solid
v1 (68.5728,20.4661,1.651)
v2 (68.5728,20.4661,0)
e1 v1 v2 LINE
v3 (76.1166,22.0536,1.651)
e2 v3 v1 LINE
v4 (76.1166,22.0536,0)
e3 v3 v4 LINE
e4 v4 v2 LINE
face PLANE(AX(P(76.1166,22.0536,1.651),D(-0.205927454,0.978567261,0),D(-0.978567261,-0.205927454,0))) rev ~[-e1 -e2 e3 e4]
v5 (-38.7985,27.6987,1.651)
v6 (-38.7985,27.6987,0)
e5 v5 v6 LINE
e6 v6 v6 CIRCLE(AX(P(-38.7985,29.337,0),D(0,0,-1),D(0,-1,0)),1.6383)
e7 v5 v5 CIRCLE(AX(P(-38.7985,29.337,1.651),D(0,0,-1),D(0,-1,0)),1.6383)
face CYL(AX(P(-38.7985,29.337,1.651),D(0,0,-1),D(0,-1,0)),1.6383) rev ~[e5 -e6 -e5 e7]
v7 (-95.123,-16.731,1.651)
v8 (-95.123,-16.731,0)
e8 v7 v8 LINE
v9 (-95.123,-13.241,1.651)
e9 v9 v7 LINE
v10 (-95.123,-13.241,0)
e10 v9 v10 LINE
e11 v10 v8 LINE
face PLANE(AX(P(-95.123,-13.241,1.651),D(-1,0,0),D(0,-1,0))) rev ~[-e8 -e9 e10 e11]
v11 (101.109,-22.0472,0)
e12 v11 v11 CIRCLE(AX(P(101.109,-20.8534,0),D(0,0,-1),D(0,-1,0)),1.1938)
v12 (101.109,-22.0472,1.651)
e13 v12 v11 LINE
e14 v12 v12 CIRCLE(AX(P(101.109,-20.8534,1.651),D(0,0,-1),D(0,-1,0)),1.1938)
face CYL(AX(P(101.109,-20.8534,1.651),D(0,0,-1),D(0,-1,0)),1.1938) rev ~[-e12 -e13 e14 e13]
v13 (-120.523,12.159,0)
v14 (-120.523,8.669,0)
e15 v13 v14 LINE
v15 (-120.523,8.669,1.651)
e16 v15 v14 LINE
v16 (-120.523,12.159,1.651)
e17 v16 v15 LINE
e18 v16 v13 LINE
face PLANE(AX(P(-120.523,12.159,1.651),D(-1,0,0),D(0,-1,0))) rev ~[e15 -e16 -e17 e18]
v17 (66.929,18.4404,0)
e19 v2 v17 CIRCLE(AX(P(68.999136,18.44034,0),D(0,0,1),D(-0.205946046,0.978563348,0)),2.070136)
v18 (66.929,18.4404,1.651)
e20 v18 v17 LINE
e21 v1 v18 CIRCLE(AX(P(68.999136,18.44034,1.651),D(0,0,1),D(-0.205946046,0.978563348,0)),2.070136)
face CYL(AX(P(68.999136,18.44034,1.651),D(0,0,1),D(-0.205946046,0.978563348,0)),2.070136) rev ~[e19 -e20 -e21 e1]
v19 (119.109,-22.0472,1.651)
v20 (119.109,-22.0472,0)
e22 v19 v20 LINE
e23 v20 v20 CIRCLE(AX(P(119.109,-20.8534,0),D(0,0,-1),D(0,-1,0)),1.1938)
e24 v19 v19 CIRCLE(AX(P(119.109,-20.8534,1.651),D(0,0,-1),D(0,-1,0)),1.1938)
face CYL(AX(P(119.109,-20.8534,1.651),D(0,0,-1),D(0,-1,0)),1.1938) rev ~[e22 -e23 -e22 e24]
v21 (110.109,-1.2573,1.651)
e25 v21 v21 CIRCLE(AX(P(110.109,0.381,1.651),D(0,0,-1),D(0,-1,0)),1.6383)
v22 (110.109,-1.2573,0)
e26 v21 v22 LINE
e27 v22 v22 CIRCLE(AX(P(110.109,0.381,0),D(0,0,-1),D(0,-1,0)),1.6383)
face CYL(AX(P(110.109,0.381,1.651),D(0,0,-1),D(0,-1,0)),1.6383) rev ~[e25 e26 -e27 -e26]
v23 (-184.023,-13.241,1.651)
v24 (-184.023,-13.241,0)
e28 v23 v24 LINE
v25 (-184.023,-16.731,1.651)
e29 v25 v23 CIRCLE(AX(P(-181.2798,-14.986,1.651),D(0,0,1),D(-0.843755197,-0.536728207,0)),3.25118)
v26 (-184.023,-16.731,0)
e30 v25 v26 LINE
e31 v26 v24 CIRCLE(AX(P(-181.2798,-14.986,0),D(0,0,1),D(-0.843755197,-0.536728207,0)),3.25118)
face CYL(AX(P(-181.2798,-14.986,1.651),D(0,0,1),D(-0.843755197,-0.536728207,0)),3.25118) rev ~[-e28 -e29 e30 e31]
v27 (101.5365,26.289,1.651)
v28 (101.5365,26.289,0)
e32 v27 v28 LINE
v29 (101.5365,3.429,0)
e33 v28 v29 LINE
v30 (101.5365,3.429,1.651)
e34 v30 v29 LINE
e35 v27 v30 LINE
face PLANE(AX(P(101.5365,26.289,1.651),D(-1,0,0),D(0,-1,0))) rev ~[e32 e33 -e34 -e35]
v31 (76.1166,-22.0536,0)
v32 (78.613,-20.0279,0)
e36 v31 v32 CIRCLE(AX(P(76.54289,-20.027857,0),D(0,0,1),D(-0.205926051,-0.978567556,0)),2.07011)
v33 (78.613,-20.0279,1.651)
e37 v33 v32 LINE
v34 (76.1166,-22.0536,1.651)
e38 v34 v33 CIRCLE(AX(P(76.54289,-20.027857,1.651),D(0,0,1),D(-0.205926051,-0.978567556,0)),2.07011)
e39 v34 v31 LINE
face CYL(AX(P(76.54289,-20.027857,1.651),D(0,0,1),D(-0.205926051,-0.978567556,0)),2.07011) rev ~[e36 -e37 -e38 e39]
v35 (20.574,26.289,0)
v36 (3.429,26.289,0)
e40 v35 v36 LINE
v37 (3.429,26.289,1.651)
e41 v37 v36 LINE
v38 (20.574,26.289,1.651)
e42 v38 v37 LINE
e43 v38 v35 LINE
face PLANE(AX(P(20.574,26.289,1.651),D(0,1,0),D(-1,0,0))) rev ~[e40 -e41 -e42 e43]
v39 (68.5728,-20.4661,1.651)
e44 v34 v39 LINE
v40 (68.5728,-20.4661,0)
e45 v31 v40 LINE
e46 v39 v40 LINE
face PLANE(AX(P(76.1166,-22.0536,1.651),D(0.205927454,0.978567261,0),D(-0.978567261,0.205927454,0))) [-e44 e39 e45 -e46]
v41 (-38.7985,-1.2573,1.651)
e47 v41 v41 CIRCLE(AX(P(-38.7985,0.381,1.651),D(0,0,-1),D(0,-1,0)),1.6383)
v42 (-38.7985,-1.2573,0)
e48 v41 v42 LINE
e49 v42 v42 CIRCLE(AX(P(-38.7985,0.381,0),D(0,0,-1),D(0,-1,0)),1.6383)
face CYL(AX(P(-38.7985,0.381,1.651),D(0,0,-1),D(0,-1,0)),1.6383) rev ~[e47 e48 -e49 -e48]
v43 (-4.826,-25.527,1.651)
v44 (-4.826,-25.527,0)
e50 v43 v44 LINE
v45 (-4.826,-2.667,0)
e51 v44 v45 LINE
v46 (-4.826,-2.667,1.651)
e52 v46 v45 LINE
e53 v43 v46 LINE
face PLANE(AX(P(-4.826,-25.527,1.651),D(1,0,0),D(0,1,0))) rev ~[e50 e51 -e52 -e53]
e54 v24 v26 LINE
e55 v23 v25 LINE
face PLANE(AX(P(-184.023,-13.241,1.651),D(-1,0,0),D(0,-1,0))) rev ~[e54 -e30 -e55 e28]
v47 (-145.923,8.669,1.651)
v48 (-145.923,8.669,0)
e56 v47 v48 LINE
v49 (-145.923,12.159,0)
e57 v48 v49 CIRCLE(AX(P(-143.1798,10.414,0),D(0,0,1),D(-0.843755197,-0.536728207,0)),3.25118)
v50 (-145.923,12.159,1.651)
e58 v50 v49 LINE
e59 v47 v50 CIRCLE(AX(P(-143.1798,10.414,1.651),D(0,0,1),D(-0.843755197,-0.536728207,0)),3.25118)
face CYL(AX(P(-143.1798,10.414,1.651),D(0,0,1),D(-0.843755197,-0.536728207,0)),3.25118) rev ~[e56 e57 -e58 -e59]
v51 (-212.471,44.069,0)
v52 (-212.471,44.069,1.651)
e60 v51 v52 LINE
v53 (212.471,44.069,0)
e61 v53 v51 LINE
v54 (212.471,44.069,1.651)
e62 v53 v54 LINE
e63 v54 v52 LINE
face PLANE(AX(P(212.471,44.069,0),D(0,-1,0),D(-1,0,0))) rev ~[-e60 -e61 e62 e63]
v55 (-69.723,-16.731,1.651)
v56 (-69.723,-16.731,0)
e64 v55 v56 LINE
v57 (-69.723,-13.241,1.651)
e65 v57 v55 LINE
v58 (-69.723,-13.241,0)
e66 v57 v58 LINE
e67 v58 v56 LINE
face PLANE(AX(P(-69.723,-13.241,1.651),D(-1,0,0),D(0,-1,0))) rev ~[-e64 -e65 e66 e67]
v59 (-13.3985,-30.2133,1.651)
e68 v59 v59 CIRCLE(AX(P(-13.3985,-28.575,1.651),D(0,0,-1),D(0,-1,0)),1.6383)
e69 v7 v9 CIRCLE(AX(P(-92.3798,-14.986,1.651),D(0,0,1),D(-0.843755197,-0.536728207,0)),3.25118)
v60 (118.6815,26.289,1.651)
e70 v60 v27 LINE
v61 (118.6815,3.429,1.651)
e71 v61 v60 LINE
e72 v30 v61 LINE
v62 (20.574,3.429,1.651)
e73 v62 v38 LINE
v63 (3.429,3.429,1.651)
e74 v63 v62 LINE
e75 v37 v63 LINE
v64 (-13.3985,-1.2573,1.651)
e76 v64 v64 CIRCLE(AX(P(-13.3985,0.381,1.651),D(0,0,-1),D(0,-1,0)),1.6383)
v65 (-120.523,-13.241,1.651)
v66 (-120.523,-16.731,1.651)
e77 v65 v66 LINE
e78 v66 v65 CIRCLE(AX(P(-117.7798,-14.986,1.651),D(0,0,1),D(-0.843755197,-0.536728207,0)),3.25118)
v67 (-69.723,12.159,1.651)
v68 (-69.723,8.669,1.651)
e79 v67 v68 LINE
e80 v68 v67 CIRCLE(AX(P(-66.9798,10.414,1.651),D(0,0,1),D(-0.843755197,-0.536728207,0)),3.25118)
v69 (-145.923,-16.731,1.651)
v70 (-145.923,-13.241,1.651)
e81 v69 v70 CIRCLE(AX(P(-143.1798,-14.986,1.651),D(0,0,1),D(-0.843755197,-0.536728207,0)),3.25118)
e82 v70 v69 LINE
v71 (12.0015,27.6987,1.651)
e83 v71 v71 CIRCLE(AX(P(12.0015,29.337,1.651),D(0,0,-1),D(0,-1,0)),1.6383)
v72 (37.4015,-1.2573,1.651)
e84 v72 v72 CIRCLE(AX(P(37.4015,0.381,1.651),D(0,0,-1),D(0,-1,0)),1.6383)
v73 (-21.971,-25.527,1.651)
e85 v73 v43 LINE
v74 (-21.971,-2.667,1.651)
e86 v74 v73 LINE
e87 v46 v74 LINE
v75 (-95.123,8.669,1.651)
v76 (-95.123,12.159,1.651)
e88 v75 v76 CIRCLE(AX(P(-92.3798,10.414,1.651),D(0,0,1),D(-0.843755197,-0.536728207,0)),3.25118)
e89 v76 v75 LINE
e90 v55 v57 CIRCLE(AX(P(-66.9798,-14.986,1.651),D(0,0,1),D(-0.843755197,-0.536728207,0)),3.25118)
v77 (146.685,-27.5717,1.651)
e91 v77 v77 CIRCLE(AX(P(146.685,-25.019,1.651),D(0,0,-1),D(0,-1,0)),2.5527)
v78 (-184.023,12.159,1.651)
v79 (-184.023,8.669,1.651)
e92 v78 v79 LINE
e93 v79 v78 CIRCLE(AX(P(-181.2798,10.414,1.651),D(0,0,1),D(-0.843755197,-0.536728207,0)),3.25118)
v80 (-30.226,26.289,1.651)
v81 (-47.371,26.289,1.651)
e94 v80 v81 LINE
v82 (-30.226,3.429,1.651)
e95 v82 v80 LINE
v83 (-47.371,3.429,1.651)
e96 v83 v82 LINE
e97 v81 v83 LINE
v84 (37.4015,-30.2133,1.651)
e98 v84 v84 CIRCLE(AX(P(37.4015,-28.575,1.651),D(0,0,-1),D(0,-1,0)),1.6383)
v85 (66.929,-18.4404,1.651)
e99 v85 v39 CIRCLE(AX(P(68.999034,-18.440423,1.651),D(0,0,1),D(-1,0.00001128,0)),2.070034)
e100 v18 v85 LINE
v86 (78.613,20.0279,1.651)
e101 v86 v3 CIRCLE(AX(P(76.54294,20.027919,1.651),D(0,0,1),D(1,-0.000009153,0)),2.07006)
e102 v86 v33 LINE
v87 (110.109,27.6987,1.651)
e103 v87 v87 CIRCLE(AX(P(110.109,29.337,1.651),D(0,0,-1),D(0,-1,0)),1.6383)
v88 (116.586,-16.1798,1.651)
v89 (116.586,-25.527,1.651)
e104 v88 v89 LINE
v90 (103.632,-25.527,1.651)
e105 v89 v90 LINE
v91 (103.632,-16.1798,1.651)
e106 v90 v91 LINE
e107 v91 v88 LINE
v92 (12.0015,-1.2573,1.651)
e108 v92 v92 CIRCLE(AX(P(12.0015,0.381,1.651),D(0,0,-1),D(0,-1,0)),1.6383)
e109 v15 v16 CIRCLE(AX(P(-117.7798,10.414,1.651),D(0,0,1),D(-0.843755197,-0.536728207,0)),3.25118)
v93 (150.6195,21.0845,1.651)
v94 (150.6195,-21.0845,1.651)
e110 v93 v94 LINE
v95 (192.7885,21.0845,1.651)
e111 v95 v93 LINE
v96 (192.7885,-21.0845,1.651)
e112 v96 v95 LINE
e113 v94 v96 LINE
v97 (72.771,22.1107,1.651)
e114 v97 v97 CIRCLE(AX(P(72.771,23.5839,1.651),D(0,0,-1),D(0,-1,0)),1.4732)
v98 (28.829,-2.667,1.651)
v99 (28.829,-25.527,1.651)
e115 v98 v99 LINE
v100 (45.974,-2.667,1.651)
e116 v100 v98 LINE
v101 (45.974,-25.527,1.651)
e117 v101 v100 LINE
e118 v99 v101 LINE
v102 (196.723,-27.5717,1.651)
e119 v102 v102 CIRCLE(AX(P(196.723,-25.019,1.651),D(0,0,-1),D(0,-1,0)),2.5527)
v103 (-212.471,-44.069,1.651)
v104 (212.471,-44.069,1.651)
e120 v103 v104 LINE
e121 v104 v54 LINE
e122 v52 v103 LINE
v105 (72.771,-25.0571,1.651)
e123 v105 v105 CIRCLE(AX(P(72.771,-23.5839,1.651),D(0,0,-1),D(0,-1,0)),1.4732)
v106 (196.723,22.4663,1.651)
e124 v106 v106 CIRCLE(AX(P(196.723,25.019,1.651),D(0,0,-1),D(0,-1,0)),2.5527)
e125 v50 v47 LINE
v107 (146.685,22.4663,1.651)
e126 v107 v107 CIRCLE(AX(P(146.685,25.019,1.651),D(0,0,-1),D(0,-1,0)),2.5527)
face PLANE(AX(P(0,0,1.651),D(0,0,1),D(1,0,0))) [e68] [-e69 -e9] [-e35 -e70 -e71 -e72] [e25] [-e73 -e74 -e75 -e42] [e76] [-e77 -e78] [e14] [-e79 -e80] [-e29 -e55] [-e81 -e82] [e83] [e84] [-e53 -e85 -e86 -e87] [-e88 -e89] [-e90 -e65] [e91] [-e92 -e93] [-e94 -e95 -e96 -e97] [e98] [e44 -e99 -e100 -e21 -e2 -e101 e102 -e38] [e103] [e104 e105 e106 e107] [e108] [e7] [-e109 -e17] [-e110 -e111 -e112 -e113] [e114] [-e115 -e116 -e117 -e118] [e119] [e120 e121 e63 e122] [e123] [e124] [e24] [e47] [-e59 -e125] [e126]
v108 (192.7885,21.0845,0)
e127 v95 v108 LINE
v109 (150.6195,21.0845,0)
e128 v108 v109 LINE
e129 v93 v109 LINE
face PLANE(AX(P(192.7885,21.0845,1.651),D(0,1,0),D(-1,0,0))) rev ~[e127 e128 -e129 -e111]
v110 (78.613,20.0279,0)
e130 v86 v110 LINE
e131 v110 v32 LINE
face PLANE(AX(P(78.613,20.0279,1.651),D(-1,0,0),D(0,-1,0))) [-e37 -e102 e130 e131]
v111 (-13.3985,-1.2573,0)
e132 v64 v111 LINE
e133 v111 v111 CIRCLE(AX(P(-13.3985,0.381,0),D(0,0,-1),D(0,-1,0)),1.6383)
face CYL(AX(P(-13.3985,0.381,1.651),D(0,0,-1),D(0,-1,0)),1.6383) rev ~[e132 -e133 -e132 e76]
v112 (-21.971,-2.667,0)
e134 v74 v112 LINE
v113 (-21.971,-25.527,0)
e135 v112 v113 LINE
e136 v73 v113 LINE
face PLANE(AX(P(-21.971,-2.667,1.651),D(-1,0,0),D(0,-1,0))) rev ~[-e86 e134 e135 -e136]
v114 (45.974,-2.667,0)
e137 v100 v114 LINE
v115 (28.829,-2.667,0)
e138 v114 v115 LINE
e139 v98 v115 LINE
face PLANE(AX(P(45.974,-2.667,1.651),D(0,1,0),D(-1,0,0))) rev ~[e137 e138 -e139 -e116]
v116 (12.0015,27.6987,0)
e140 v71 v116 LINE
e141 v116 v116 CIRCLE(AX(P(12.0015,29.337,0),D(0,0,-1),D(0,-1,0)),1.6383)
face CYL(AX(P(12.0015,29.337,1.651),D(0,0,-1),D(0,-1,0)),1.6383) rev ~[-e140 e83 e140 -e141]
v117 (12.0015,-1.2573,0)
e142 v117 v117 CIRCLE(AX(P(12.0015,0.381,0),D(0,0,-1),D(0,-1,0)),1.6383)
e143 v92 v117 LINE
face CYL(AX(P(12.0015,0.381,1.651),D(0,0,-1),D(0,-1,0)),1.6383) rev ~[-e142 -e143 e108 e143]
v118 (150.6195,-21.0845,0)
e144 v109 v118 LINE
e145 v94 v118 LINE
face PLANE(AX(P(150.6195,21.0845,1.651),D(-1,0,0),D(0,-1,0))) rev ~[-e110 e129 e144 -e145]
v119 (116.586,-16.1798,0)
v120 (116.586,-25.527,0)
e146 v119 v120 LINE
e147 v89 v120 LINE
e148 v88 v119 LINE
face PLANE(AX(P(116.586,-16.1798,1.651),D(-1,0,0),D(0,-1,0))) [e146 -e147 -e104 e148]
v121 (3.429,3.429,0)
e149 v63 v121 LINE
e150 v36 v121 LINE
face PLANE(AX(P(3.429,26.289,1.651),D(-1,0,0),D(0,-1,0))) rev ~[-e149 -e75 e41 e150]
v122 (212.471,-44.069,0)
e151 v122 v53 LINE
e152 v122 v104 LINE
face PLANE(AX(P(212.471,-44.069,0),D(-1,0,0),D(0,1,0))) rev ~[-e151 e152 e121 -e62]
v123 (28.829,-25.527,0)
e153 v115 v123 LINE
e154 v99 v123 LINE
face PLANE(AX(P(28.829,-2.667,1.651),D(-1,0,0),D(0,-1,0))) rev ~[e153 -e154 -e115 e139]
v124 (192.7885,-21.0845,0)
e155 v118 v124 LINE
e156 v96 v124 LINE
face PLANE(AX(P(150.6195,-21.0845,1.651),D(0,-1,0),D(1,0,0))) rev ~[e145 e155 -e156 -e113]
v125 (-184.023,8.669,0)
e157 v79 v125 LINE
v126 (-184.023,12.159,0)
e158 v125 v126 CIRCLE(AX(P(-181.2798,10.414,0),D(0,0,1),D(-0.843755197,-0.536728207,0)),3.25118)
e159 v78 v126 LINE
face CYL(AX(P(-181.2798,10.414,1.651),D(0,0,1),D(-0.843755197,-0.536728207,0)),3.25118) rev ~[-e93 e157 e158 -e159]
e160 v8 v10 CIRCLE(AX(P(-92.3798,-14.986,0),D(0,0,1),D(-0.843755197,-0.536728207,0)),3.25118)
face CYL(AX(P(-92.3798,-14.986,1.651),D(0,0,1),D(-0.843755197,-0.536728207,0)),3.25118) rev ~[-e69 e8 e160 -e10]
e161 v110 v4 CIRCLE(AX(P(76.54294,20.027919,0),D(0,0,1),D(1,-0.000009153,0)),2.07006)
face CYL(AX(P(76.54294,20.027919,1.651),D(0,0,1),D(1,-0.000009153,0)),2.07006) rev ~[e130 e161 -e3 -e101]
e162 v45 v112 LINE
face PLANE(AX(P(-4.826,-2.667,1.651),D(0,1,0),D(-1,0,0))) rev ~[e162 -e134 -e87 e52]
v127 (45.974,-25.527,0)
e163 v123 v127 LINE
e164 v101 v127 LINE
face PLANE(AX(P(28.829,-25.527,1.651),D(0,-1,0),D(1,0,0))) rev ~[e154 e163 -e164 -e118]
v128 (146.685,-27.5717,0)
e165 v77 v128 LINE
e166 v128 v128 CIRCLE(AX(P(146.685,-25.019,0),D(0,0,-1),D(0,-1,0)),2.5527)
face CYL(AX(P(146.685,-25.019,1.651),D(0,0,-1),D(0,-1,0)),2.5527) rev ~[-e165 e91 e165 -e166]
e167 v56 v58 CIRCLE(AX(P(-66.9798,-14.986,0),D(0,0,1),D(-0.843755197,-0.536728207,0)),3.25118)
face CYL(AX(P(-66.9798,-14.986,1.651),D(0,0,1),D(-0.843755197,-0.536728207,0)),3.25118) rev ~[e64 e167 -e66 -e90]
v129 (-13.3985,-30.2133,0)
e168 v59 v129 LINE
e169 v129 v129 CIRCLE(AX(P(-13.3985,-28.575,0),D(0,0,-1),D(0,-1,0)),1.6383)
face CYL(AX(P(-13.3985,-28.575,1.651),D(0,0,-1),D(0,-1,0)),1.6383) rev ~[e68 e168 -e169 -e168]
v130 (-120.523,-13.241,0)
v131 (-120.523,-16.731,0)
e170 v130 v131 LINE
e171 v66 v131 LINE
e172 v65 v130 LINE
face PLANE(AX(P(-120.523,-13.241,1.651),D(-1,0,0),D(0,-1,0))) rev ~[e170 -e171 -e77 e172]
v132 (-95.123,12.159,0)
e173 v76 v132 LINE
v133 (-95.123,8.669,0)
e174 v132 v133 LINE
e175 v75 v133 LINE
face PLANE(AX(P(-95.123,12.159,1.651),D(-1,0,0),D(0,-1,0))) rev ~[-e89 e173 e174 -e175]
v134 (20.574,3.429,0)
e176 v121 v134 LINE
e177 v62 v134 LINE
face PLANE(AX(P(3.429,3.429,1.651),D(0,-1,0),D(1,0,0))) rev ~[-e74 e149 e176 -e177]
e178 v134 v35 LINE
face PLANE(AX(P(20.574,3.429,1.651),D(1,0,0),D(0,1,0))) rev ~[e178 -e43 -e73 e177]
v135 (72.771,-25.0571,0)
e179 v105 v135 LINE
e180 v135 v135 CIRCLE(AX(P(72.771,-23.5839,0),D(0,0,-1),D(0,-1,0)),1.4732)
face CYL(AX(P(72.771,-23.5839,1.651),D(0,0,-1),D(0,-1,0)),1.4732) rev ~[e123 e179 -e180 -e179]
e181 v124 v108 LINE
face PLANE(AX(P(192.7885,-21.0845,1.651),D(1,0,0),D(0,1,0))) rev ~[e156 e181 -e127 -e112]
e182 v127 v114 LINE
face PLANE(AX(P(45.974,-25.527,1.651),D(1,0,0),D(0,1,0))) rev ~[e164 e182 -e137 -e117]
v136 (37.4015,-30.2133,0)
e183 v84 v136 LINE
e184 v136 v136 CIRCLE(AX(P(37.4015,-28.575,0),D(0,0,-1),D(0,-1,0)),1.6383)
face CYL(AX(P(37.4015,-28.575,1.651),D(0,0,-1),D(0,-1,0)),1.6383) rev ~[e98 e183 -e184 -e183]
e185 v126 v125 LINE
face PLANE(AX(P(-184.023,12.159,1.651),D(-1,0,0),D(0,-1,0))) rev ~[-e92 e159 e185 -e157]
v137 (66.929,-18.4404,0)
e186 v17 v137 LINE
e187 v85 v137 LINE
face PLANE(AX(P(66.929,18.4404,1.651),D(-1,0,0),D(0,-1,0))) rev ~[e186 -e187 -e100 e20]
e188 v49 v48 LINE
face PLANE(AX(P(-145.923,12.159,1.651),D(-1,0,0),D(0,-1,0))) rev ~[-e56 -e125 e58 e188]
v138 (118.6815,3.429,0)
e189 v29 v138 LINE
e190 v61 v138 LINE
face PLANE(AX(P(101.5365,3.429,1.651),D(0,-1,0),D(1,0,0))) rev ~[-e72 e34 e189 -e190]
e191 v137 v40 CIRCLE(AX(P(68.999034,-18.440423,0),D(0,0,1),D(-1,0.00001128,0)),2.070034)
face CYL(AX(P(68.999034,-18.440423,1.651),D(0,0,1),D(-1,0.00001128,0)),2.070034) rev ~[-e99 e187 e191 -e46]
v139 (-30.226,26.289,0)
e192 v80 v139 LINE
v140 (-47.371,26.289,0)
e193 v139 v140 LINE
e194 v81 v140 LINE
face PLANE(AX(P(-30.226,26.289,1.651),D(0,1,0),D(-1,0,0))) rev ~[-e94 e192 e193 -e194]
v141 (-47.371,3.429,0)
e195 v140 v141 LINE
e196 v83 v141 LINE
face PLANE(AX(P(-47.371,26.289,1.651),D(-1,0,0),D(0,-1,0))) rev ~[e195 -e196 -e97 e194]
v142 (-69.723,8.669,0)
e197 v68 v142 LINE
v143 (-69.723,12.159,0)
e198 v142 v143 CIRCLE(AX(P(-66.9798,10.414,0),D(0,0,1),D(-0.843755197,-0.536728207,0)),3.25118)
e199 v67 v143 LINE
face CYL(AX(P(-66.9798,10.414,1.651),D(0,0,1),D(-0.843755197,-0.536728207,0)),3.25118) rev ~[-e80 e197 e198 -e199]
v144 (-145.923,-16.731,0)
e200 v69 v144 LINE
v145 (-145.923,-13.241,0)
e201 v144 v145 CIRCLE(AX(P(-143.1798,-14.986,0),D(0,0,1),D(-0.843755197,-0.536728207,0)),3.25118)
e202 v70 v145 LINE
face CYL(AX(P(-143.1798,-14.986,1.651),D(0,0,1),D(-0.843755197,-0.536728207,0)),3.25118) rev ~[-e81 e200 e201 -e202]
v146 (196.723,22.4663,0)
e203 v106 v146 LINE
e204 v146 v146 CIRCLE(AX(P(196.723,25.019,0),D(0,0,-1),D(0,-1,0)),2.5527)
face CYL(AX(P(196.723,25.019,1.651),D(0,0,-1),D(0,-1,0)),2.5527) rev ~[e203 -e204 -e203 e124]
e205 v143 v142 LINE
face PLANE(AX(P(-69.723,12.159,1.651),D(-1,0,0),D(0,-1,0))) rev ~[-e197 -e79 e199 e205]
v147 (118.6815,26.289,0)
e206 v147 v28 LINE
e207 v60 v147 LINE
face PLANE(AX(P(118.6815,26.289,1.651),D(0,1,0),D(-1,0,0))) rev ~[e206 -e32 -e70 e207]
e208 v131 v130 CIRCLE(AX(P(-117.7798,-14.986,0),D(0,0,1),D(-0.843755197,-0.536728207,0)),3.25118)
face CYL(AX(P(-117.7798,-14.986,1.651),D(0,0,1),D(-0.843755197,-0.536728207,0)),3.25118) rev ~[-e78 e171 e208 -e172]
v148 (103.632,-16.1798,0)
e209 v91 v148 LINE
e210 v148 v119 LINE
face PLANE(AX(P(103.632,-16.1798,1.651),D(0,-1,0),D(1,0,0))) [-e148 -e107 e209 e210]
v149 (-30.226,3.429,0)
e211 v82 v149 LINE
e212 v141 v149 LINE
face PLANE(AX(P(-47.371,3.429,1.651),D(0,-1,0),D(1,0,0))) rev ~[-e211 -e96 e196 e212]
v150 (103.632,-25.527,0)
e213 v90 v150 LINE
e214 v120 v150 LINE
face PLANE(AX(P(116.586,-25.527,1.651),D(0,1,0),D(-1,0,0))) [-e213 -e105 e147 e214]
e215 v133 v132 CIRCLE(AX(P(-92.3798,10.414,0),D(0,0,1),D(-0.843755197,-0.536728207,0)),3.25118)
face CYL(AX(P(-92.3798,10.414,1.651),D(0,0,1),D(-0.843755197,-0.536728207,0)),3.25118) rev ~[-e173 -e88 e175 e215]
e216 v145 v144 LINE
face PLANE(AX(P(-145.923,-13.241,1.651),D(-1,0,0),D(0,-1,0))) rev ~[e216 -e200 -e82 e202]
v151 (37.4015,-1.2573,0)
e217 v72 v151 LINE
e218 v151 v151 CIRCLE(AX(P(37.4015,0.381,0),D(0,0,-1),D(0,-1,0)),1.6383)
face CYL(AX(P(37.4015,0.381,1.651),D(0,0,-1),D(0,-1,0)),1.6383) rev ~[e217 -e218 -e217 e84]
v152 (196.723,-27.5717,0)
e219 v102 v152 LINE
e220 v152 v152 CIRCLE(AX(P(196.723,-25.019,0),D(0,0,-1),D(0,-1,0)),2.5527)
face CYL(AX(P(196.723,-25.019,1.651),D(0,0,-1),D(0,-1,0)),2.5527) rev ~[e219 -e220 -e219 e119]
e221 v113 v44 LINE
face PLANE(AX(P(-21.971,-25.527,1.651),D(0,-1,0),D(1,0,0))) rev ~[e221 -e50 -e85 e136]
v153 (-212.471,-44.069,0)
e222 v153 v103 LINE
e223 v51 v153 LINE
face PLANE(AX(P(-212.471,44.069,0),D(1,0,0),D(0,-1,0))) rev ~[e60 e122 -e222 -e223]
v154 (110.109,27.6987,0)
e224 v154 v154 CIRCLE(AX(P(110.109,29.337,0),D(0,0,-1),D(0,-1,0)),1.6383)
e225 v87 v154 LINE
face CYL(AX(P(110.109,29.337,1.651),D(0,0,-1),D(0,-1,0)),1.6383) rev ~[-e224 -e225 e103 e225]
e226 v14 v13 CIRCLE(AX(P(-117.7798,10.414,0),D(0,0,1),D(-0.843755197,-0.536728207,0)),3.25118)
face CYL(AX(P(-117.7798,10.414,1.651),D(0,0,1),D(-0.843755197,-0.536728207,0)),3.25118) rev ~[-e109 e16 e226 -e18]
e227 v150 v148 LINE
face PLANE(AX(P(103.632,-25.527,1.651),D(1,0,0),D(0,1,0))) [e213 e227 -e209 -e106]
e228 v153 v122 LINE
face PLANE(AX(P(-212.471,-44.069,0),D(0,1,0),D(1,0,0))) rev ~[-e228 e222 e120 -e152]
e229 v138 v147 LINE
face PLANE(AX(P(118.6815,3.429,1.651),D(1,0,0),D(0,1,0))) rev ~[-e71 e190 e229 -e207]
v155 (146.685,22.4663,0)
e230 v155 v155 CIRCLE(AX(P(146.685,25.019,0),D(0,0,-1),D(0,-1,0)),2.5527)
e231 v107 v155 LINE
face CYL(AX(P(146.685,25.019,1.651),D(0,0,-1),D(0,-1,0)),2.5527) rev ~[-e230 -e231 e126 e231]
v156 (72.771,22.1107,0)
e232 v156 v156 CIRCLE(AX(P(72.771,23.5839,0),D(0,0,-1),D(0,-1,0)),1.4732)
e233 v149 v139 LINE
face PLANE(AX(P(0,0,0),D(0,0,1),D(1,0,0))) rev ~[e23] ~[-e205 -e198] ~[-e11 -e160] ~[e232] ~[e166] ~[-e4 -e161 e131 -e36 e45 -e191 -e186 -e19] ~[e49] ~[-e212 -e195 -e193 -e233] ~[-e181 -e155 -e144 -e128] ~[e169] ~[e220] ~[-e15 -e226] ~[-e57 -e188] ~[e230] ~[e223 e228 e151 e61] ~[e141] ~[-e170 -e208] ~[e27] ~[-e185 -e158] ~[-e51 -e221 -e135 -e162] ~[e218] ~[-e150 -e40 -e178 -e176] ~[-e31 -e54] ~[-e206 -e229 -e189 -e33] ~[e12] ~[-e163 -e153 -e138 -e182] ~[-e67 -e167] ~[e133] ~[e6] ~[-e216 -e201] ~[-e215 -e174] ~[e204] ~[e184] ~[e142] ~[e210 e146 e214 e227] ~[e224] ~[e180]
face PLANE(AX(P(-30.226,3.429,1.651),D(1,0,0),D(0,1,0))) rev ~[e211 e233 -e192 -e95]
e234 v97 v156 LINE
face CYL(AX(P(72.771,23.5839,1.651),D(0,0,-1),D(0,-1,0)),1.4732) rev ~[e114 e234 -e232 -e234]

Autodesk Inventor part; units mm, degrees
ref_plane "YZ Plane" through (0, 0, 0) normal (1, 0, 0) x (0, 1, 0)
ref_plane "XZ Plane" through (0, 0, 0) normal (0, 1, 0) x (-1, 0, 0)
ref_plane "XY Plane" through (0, 0, 0) normal (0, 0, 1) x (1, 0, 0)
sketch "Sketch1" plane through (0, 0, 0) normal (0, 0, 1) x (1, 0, 0)
  line L0 (-212.471, -44.069) -> (212.471, -44.069)
  line L1 (212.471, -44.069) -> (212.471, 44.069)
  line L2 (212.471, 44.069) -> (-212.471, 44.069)
  line L3 (-212.471, 44.069) -> (-212.471, -44.069)
  line L4 (-212.471, -44.069) -> (212.471, 44.069) construction
  line L5 (212.471, -44.069) -> (-212.471, 44.069) construction
  point P0 (0, 0)
  dimension "d0" = 424.942
  dimension "d1" = 88.138
extrude "Extrusion1" add sketch "Sketch1" along normal blind 1.651
sketch "SMA" plane through (0, 0, 1.651) normal (0, 0, 1) x (1, 0, 0)
  line L0 (-209.423, -35.814) -> (209.423, -35.814) construction
  line L1 (209.423, -35.814) -> (209.423, 35.814) construction
  line L2 (209.423, 35.814) -> (-209.423, 35.814) construction
  line L3 (-209.423, 35.814) -> (-209.423, -35.814) construction
  line L4 (212.471, 44.069) -> (-212.471, 44.069) construction
  line L5 (212.471, -44.069) -> (212.471, 44.069) construction
  line L6 (-212.471, 44.069) -> (-212.471, -44.069) projected
  line L7 (-212.471, -44.069) -> (212.471, -44.069) projected
  line L8 (-222.5982, 0) -> (228.0899, 0) construction
  line L9 (0, 79.8165) -> (0, -88.5526) construction
  line L10 (-181.2798, 19.5533) -> (-181.2798, 0.2592) construction
  line L11 (-189.2532, 10.414) -> (-170.7489, 10.414) construction
  arc A0 (-184.023, 8.669) -> (-184.023, 12.159) centre (-181.2798, 10.414) ccw
  line L12 (-184.023, 12.159) -> (-184.023, 8.669)
  line L13 (-145.923, 12.159) -> (-145.923, 8.669)
  arc A1 (-145.923, 8.669) -> (-145.923, 12.159) centre (-143.1798, 10.414) ccw
  line L14 (-184.023, -13.241) -> (-184.023, -16.731)
  arc A2 (-184.023, -16.731) -> (-184.023, -13.241) centre (-181.2798, -14.986) ccw
  line L15 (-145.923, -13.241) -> (-145.923, -16.731)
  arc A3 (-145.923, -16.731) -> (-145.923, -13.241) centre (-143.1798, -14.986) ccw
  line L16 (-120.523, 12.159) -> (-120.523, 8.669)
  arc A4 (-120.523, 8.669) -> (-120.523, 12.159) centre (-117.7798, 10.414) ccw
  arc A5 (-120.523, -16.731) -> (-120.523, -13.241) centre (-117.7798, -14.986) ccw
  line L17 (-120.523, -13.241) -> (-120.523, -16.731)
  line L18 (-95.123, 12.159) -> (-95.123, 8.669)
  arc A6 (-95.123, 8.669) -> (-95.123, 12.159) centre (-92.3798, 10.414) ccw
  arc A7 (-95.123, -16.731) -> (-95.123, -13.241) centre (-92.3798, -14.986) ccw
  line L19 (-95.123, -13.241) -> (-95.123, -16.731)
  line L20 (-69.723, 12.159) -> (-69.723, 8.669)
  arc A8 (-69.723, 8.669) -> (-69.723, 12.159) centre (-66.9798, 10.414) ccw
  arc A9 (-69.723, -16.731) -> (-69.723, -13.241) centre (-66.9798, -14.986) ccw
  line L21 (-69.723, -13.241) -> (-69.723, -16.731)
  point P0 (0, 0)
  point P1 (-178.0286, 10.414)
  point P2 (-139.9286, 10.414)
  point P3 (-178.0286, -14.986)
  point P4 (-139.9286, -14.986)
  point P5 (-114.5286, 10.414)
  point P6 (-114.5286, -14.986)
  point P7 (-89.1286, 10.414)
  point P8 (-89.1286, -14.986)
  point P9 (-63.7286, 10.414)
  point P10 (-63.7286, -14.986)
  point P11 (-63.7286, -14.986)
  dimension "d4" = 8.255
  dimension "d5" = 3.048
  dimension "d7" = 8.255
  dimension "d8" = 3.048
  dimension "d11" = 6.5024
  dimension "d12" = 5.9944
  dimension "d13" = 25.4
  dimension "d14" = 25.4
  dimension "d17" = 38.1
  dimension "d20" = 25.4
  dimension "d25" = 25.4
sketch "airflow" plane through (0, 0, 1.651) normal (0, 0, 1) x (1, 0, 0)
  line L0 (146.685, -25.019) -> (196.723, -25.019) construction
  line L1 (196.723, -25.019) -> (196.723, 25.019) construction
  line L2 (196.723, 25.019) -> (146.685, 25.019) construction
  line L3 (146.685, 25.019) -> (146.685, -25.019) construction
  line L4 (146.685, -25.019) -> (196.723, 25.019) construction
  line L5 (196.723, -25.019) -> (146.685, 25.019) construction
  line L6 (209.423, -35.814) -> (209.423, 35.814) construction
  line L7 (209.423, 35.814) -> (-209.423, 35.814) construction
  line L8 (-209.423, -35.814) -> (209.423, -35.814) construction
  line L9 (-209.423, 35.814) -> (-209.423, -35.814) construction
  line L10 (-212.471, -44.069) -> (212.471, -44.069) projected
  line L11 (212.471, -44.069) -> (212.471, 44.069) projected
  line L12 (212.471, 44.069) -> (-212.471, 44.069) projected
  line L13 (-212.471, 44.069) -> (-212.471, -44.069) projected
  line L14 (150.6195, -21.0845) -> (192.7885, -21.0845)
  line L15 (192.7885, -21.0845) -> (192.7885, 21.0845)
  line L16 (192.7885, 21.0845) -> (150.6195, 21.0845)
  line L17 (150.6195, 21.0845) -> (150.6195, -21.0845)
  line L18 (150.6195, -21.0845) -> (192.7885, 21.0845) construction
  line L19 (192.7885, -21.0845) -> (150.6195, 21.0845) construction
  point P0 (171.704, 0)
  point P1 (252.5868, -10.4776)
  dimension "d30" = 50.038
  dimension "d31" = 50.038
  dimension "d32" = 12.7
  dimension "d218" = 3.9345
  dimension "d229" = 44.069
sketch "Dsub25" plane through (0, 0, 1.651) normal (0, 0, 1) x (1, 0, 0)
  line L0 (78.613, 20.0279) -> (78.613, -20.0279)
  line L1 (66.929, 18.4404) -> (66.929, -18.4404)
  arc A0 (76.1166, -22.0536) -> (78.613, -20.0279) centre (76.5429, -20.0279) ccw
  arc A1 (66.929, -18.4404) -> (68.5728, -20.4661) centre (68.9991, -18.4404) ccw
  arc A2 (78.613, 20.0279) -> (76.1166, 22.0536) centre (76.5429, 20.0279) ccw
  arc A3 (68.5728, 20.4661) -> (66.929, 18.4404) centre (68.9991, 18.4404) ccw
  line L2 (49.6457, 0) -> (87.8983, 0) construction
  line L3 (-212.471, -44.069) -> (212.471, -44.069) construction
  line L4 (72.771, 23.5839) -> (72.771, -23.5839) construction
  line L5 (76.1166, 22.0536) -> (68.5728, 20.4661)
  line L6 (76.1166, -22.0536) -> (68.5728, -20.4661)
  line L7 (-212.471, 44.069) -> (-212.471, -44.069) projected
  point P0 (0, 0)
  point P1 (78.613, 0)
  point P2 (66.929, 0)
  point P3 (72.771, 0)
  point P4 (72.771, 21.3496)
  dimension "d46" = 47.1678
  dimension "d47" = 4.1402
  dimension "d48" = 4.1402
  dimension "d49" = 4.1402
  dimension "d50" = 4.1402
  dimension "d51" = 40.0558
  dimension "d52" = 36.8808
  dimension "d53" = 44.069
  dimension "d57" = 11.684
  dimension "d58" = 5.842
  dimension "d59" = 279.4
  dimension "d60" = 44.069
extrude "sma cutouts" cut sketch "SMA" against normal through all
hole "dsub25 holes" at (72.771, 23.5839, 1.651) at (72.771, -23.5839, 1.651) direction (0, 0, -1) diameter 2.9464 end through all
extrude "dsub25 cutout" cut sketch "Dsub25" against normal through all
sketch "rj45" plane through (0, 0, 1.651) normal (0, 0, 1) x (1, 0, 0)
  line L0 (-47.371, 3.429) -> (-30.226, 3.429)
  line L1 (-30.226, 3.429) -> (-30.226, 26.289)
  line L2 (-30.226, 26.289) -> (-47.371, 26.289)
  line L3 (-47.371, 26.289) -> (-47.371, 3.429)
  line L4 (-47.371, 3.429) -> (-30.226, 26.289) construction
  line L5 (-30.226, 3.429) -> (-47.371, 26.289) construction
  line L6 (-38.7985, 29.337) -> (-38.7985, 0.381) construction
  line L7 (-212.471, 44.069) -> (-212.471, -44.069) construction
  line L8 (212.471, 44.069) -> (-212.471, 44.069) construction
  line L9 (3.429, 3.429) -> (20.574, 3.429)
  line L10 (20.574, 3.429) -> (20.574, 26.289)
  line L11 (20.574, 26.289) -> (3.429, 26.289)
  line L12 (3.429, 26.289) -> (3.429, 3.429)
  line L13 (3.429, 3.429) -> (20.574, 26.289) construction
  line L14 (20.574, 3.429) -> (3.429, 26.289) construction
  line L15 (12.0015, 29.337) -> (12.0015, 0.381) construction
  line L16 (-21.971, -25.527) -> (-4.826, -25.527)
  line L17 (-4.826, -25.527) -> (-4.826, -2.667)
  line L18 (-4.826, -2.667) -> (-21.971, -2.667)
  line L19 (-21.971, -2.667) -> (-21.971, -25.527)
  line L20 (-21.971, -25.527) -> (-4.826, -2.667) construction
  line L21 (-4.826, -25.527) -> (-21.971, -2.667) construction
  line L22 (-13.3985, 0.381) -> (-13.3985, -28.575) construction
  line L23 (28.829, -25.527) -> (45.974, -25.527)
  line L24 (45.974, -25.527) -> (45.974, -2.667)
  line L25 (45.974, -2.667) -> (28.829, -2.667)
  line L26 (28.829, -2.667) -> (28.829, -25.527)
  line L27 (28.829, -25.527) -> (45.974, -2.667) construction
  line L28 (45.974, -25.527) -> (28.829, -2.667) construction
  line L29 (37.4015, 0.381) -> (37.4015, -28.575) construction
  line L30 (-212.471, -44.069) -> (212.471, -44.069) construction
  line L31 (-38.7985, 0.381) -> (62.2062, 0.381) construction
  point P0 (0, 0)
  point P1 (-38.7985, 14.859)
  point P2 (-38.7985, 14.859)
  point P3 (12.0015, 14.859)
  point P4 (12.0015, 14.859)
  point P5 (-13.3985, -14.097)
  point P6 (-13.3985, -14.097)
  point P7 (37.4015, -14.097)
  point P8 (37.4015, -14.097)
  dimension "d160" = 28.956
  dimension "d161" = 22.86
  dimension "d162" = 17.145
  dimension "d163" = 165.1
  dimension "d164" = 17.78
  dimension "d165" = 28.956
  dimension "d166" = 22.86
  dimension "d167" = 17.145
  dimension "d168" = 28.956
  dimension "d169" = 22.86
  dimension "d170" = 17.145
  dimension "d171" = 28.956
  dimension "d172" = 22.86
  dimension "d173" = 17.145
  dimension "d174" = 17.78
  dimension "d175" = 215.9
  dimension "d177" = 190.5
  dimension "d179" = 241.3
hole "rj45 holes" at (-38.7985, 29.337, 1.651) at (-38.7985, 0.381, 1.651) at (12.0015, 0.381, 1.651) at (12.0015, 29.337, 1.651) at (-13.3985, -28.575, 1.651) at (-13.3985, 0.381, 1.651) at (37.4015, -28.575, 1.651) at (37.4015, 0.381, 1.651) direction (0, 0, -1) diameter 3.2766 end through all clearance for "Flat Head Machine Screw (82)" size "#4" standard "Ansi Unified Screw Threads"
extrude "rj45 cutouts" cut sketch "rj45" against normal blind 25.4
sketch "rj45 debug" plane through (0, 0, 1.651) normal (0, 0, 1) x (1, 0, 0)
  line L0 (101.5365, 3.429) -> (118.6815, 3.429)
  line L1 (118.6815, 3.429) -> (118.6815, 26.289)
  line L2 (118.6815, 26.289) -> (101.5365, 26.289)
  line L3 (101.5365, 26.289) -> (101.5365, 3.429)
  line L4 (101.5365, 3.429) -> (118.6815, 26.289) construction
  line L5 (118.6815, 3.429) -> (101.5365, 26.289) construction
  line L6 (110.109, 29.337) -> (110.109, 0.381) construction
  line L7 (-212.471, 44.069) -> (-212.471, -44.069) projected
  line L8 (212.471, 44.069) -> (-212.471, 44.069) projected
  point P0 (0, 0)
  point P1 (110.109, 14.859)
  point P2 (110.109, 14.859)
  dimension "d189" = 28.956
  dimension "d190" = 17.145
  dimension "d191" = 22.86
  dimension "d193" = 17.78
  dimension "d194" = 322.58
hole "rj45 debug holes" at (110.109, 29.337, 1.651) at (110.109, 0.381, 1.651) direction (0, 0, -1) diameter 3.2766 end through all clearance for "Flat Head Machine Screw (82)" size "#4" standard "Ansi Unified Screw Threads"
extrude "rj45 debug cutout" cut sketch "rj45 debug" against normal blind 25.4
sketch "SC/SC" plane through (0, 0, 1.651) normal (0, 0, 1) x (1, 0, 0)
  line L0 (103.632, -16.1798) -> (116.586, -16.1798)
  line L1 (116.586, -16.1798) -> (116.586, -25.527)
  line L2 (116.586, -25.527) -> (103.632, -25.527)
  line L3 (103.632, -25.527) -> (103.632, -16.1798)
  line L4 (103.632, -16.1798) -> (116.586, -25.527) construction
  line L5 (116.586, -16.1798) -> (103.632, -25.527) construction
  line L6 (101.109, -20.8534) -> (119.109, -20.8534) construction
  line L7 (-212.471, 44.069) -> (-212.471, -44.069) projected
  line L8 (-212.471, -44.069) -> (212.471, -44.069) projected
  point P0 (0, 0)
  point P1 (110.109, -20.8534)
  point P2 (110.109, -20.8534)
  dimension "d204" = 12.954
  dimension "d205" = 9.3472
  dimension "d206" = 18
  dimension "d207" = 322.58
  dimension "d208" = 18.542
hole "SC/SC holes" at (101.109, -20.8534, 1.651) at (119.109, -20.8534, 1.651) direction (0, 0, -1) diameter 2.3876 end through all clearance for "Countersunk Flat Head Screw ISO 2009/7046" size "M2" standard "ISO"
extrude "SC/SC cutout" cut sketch "SC/SC" against normal blind 25.4
hole "airflow holes" at (146.685, 25.019, 1.651) at (196.723, 25.019, 1.651) at (196.723, -25.019, 1.651) at (146.685, -25.019, 1.651) direction (0, 0, -1) diameter 5.1054 end through all clearance for "Flat Head Machine Screw (82)" size "#10" standard "Ansi Unified Screw Threads"
extrude "airflow cutout" cut sketch "airflow" against normal through all contours L17 L16 L15 L14
properties part number "nmt_frontpanel"
